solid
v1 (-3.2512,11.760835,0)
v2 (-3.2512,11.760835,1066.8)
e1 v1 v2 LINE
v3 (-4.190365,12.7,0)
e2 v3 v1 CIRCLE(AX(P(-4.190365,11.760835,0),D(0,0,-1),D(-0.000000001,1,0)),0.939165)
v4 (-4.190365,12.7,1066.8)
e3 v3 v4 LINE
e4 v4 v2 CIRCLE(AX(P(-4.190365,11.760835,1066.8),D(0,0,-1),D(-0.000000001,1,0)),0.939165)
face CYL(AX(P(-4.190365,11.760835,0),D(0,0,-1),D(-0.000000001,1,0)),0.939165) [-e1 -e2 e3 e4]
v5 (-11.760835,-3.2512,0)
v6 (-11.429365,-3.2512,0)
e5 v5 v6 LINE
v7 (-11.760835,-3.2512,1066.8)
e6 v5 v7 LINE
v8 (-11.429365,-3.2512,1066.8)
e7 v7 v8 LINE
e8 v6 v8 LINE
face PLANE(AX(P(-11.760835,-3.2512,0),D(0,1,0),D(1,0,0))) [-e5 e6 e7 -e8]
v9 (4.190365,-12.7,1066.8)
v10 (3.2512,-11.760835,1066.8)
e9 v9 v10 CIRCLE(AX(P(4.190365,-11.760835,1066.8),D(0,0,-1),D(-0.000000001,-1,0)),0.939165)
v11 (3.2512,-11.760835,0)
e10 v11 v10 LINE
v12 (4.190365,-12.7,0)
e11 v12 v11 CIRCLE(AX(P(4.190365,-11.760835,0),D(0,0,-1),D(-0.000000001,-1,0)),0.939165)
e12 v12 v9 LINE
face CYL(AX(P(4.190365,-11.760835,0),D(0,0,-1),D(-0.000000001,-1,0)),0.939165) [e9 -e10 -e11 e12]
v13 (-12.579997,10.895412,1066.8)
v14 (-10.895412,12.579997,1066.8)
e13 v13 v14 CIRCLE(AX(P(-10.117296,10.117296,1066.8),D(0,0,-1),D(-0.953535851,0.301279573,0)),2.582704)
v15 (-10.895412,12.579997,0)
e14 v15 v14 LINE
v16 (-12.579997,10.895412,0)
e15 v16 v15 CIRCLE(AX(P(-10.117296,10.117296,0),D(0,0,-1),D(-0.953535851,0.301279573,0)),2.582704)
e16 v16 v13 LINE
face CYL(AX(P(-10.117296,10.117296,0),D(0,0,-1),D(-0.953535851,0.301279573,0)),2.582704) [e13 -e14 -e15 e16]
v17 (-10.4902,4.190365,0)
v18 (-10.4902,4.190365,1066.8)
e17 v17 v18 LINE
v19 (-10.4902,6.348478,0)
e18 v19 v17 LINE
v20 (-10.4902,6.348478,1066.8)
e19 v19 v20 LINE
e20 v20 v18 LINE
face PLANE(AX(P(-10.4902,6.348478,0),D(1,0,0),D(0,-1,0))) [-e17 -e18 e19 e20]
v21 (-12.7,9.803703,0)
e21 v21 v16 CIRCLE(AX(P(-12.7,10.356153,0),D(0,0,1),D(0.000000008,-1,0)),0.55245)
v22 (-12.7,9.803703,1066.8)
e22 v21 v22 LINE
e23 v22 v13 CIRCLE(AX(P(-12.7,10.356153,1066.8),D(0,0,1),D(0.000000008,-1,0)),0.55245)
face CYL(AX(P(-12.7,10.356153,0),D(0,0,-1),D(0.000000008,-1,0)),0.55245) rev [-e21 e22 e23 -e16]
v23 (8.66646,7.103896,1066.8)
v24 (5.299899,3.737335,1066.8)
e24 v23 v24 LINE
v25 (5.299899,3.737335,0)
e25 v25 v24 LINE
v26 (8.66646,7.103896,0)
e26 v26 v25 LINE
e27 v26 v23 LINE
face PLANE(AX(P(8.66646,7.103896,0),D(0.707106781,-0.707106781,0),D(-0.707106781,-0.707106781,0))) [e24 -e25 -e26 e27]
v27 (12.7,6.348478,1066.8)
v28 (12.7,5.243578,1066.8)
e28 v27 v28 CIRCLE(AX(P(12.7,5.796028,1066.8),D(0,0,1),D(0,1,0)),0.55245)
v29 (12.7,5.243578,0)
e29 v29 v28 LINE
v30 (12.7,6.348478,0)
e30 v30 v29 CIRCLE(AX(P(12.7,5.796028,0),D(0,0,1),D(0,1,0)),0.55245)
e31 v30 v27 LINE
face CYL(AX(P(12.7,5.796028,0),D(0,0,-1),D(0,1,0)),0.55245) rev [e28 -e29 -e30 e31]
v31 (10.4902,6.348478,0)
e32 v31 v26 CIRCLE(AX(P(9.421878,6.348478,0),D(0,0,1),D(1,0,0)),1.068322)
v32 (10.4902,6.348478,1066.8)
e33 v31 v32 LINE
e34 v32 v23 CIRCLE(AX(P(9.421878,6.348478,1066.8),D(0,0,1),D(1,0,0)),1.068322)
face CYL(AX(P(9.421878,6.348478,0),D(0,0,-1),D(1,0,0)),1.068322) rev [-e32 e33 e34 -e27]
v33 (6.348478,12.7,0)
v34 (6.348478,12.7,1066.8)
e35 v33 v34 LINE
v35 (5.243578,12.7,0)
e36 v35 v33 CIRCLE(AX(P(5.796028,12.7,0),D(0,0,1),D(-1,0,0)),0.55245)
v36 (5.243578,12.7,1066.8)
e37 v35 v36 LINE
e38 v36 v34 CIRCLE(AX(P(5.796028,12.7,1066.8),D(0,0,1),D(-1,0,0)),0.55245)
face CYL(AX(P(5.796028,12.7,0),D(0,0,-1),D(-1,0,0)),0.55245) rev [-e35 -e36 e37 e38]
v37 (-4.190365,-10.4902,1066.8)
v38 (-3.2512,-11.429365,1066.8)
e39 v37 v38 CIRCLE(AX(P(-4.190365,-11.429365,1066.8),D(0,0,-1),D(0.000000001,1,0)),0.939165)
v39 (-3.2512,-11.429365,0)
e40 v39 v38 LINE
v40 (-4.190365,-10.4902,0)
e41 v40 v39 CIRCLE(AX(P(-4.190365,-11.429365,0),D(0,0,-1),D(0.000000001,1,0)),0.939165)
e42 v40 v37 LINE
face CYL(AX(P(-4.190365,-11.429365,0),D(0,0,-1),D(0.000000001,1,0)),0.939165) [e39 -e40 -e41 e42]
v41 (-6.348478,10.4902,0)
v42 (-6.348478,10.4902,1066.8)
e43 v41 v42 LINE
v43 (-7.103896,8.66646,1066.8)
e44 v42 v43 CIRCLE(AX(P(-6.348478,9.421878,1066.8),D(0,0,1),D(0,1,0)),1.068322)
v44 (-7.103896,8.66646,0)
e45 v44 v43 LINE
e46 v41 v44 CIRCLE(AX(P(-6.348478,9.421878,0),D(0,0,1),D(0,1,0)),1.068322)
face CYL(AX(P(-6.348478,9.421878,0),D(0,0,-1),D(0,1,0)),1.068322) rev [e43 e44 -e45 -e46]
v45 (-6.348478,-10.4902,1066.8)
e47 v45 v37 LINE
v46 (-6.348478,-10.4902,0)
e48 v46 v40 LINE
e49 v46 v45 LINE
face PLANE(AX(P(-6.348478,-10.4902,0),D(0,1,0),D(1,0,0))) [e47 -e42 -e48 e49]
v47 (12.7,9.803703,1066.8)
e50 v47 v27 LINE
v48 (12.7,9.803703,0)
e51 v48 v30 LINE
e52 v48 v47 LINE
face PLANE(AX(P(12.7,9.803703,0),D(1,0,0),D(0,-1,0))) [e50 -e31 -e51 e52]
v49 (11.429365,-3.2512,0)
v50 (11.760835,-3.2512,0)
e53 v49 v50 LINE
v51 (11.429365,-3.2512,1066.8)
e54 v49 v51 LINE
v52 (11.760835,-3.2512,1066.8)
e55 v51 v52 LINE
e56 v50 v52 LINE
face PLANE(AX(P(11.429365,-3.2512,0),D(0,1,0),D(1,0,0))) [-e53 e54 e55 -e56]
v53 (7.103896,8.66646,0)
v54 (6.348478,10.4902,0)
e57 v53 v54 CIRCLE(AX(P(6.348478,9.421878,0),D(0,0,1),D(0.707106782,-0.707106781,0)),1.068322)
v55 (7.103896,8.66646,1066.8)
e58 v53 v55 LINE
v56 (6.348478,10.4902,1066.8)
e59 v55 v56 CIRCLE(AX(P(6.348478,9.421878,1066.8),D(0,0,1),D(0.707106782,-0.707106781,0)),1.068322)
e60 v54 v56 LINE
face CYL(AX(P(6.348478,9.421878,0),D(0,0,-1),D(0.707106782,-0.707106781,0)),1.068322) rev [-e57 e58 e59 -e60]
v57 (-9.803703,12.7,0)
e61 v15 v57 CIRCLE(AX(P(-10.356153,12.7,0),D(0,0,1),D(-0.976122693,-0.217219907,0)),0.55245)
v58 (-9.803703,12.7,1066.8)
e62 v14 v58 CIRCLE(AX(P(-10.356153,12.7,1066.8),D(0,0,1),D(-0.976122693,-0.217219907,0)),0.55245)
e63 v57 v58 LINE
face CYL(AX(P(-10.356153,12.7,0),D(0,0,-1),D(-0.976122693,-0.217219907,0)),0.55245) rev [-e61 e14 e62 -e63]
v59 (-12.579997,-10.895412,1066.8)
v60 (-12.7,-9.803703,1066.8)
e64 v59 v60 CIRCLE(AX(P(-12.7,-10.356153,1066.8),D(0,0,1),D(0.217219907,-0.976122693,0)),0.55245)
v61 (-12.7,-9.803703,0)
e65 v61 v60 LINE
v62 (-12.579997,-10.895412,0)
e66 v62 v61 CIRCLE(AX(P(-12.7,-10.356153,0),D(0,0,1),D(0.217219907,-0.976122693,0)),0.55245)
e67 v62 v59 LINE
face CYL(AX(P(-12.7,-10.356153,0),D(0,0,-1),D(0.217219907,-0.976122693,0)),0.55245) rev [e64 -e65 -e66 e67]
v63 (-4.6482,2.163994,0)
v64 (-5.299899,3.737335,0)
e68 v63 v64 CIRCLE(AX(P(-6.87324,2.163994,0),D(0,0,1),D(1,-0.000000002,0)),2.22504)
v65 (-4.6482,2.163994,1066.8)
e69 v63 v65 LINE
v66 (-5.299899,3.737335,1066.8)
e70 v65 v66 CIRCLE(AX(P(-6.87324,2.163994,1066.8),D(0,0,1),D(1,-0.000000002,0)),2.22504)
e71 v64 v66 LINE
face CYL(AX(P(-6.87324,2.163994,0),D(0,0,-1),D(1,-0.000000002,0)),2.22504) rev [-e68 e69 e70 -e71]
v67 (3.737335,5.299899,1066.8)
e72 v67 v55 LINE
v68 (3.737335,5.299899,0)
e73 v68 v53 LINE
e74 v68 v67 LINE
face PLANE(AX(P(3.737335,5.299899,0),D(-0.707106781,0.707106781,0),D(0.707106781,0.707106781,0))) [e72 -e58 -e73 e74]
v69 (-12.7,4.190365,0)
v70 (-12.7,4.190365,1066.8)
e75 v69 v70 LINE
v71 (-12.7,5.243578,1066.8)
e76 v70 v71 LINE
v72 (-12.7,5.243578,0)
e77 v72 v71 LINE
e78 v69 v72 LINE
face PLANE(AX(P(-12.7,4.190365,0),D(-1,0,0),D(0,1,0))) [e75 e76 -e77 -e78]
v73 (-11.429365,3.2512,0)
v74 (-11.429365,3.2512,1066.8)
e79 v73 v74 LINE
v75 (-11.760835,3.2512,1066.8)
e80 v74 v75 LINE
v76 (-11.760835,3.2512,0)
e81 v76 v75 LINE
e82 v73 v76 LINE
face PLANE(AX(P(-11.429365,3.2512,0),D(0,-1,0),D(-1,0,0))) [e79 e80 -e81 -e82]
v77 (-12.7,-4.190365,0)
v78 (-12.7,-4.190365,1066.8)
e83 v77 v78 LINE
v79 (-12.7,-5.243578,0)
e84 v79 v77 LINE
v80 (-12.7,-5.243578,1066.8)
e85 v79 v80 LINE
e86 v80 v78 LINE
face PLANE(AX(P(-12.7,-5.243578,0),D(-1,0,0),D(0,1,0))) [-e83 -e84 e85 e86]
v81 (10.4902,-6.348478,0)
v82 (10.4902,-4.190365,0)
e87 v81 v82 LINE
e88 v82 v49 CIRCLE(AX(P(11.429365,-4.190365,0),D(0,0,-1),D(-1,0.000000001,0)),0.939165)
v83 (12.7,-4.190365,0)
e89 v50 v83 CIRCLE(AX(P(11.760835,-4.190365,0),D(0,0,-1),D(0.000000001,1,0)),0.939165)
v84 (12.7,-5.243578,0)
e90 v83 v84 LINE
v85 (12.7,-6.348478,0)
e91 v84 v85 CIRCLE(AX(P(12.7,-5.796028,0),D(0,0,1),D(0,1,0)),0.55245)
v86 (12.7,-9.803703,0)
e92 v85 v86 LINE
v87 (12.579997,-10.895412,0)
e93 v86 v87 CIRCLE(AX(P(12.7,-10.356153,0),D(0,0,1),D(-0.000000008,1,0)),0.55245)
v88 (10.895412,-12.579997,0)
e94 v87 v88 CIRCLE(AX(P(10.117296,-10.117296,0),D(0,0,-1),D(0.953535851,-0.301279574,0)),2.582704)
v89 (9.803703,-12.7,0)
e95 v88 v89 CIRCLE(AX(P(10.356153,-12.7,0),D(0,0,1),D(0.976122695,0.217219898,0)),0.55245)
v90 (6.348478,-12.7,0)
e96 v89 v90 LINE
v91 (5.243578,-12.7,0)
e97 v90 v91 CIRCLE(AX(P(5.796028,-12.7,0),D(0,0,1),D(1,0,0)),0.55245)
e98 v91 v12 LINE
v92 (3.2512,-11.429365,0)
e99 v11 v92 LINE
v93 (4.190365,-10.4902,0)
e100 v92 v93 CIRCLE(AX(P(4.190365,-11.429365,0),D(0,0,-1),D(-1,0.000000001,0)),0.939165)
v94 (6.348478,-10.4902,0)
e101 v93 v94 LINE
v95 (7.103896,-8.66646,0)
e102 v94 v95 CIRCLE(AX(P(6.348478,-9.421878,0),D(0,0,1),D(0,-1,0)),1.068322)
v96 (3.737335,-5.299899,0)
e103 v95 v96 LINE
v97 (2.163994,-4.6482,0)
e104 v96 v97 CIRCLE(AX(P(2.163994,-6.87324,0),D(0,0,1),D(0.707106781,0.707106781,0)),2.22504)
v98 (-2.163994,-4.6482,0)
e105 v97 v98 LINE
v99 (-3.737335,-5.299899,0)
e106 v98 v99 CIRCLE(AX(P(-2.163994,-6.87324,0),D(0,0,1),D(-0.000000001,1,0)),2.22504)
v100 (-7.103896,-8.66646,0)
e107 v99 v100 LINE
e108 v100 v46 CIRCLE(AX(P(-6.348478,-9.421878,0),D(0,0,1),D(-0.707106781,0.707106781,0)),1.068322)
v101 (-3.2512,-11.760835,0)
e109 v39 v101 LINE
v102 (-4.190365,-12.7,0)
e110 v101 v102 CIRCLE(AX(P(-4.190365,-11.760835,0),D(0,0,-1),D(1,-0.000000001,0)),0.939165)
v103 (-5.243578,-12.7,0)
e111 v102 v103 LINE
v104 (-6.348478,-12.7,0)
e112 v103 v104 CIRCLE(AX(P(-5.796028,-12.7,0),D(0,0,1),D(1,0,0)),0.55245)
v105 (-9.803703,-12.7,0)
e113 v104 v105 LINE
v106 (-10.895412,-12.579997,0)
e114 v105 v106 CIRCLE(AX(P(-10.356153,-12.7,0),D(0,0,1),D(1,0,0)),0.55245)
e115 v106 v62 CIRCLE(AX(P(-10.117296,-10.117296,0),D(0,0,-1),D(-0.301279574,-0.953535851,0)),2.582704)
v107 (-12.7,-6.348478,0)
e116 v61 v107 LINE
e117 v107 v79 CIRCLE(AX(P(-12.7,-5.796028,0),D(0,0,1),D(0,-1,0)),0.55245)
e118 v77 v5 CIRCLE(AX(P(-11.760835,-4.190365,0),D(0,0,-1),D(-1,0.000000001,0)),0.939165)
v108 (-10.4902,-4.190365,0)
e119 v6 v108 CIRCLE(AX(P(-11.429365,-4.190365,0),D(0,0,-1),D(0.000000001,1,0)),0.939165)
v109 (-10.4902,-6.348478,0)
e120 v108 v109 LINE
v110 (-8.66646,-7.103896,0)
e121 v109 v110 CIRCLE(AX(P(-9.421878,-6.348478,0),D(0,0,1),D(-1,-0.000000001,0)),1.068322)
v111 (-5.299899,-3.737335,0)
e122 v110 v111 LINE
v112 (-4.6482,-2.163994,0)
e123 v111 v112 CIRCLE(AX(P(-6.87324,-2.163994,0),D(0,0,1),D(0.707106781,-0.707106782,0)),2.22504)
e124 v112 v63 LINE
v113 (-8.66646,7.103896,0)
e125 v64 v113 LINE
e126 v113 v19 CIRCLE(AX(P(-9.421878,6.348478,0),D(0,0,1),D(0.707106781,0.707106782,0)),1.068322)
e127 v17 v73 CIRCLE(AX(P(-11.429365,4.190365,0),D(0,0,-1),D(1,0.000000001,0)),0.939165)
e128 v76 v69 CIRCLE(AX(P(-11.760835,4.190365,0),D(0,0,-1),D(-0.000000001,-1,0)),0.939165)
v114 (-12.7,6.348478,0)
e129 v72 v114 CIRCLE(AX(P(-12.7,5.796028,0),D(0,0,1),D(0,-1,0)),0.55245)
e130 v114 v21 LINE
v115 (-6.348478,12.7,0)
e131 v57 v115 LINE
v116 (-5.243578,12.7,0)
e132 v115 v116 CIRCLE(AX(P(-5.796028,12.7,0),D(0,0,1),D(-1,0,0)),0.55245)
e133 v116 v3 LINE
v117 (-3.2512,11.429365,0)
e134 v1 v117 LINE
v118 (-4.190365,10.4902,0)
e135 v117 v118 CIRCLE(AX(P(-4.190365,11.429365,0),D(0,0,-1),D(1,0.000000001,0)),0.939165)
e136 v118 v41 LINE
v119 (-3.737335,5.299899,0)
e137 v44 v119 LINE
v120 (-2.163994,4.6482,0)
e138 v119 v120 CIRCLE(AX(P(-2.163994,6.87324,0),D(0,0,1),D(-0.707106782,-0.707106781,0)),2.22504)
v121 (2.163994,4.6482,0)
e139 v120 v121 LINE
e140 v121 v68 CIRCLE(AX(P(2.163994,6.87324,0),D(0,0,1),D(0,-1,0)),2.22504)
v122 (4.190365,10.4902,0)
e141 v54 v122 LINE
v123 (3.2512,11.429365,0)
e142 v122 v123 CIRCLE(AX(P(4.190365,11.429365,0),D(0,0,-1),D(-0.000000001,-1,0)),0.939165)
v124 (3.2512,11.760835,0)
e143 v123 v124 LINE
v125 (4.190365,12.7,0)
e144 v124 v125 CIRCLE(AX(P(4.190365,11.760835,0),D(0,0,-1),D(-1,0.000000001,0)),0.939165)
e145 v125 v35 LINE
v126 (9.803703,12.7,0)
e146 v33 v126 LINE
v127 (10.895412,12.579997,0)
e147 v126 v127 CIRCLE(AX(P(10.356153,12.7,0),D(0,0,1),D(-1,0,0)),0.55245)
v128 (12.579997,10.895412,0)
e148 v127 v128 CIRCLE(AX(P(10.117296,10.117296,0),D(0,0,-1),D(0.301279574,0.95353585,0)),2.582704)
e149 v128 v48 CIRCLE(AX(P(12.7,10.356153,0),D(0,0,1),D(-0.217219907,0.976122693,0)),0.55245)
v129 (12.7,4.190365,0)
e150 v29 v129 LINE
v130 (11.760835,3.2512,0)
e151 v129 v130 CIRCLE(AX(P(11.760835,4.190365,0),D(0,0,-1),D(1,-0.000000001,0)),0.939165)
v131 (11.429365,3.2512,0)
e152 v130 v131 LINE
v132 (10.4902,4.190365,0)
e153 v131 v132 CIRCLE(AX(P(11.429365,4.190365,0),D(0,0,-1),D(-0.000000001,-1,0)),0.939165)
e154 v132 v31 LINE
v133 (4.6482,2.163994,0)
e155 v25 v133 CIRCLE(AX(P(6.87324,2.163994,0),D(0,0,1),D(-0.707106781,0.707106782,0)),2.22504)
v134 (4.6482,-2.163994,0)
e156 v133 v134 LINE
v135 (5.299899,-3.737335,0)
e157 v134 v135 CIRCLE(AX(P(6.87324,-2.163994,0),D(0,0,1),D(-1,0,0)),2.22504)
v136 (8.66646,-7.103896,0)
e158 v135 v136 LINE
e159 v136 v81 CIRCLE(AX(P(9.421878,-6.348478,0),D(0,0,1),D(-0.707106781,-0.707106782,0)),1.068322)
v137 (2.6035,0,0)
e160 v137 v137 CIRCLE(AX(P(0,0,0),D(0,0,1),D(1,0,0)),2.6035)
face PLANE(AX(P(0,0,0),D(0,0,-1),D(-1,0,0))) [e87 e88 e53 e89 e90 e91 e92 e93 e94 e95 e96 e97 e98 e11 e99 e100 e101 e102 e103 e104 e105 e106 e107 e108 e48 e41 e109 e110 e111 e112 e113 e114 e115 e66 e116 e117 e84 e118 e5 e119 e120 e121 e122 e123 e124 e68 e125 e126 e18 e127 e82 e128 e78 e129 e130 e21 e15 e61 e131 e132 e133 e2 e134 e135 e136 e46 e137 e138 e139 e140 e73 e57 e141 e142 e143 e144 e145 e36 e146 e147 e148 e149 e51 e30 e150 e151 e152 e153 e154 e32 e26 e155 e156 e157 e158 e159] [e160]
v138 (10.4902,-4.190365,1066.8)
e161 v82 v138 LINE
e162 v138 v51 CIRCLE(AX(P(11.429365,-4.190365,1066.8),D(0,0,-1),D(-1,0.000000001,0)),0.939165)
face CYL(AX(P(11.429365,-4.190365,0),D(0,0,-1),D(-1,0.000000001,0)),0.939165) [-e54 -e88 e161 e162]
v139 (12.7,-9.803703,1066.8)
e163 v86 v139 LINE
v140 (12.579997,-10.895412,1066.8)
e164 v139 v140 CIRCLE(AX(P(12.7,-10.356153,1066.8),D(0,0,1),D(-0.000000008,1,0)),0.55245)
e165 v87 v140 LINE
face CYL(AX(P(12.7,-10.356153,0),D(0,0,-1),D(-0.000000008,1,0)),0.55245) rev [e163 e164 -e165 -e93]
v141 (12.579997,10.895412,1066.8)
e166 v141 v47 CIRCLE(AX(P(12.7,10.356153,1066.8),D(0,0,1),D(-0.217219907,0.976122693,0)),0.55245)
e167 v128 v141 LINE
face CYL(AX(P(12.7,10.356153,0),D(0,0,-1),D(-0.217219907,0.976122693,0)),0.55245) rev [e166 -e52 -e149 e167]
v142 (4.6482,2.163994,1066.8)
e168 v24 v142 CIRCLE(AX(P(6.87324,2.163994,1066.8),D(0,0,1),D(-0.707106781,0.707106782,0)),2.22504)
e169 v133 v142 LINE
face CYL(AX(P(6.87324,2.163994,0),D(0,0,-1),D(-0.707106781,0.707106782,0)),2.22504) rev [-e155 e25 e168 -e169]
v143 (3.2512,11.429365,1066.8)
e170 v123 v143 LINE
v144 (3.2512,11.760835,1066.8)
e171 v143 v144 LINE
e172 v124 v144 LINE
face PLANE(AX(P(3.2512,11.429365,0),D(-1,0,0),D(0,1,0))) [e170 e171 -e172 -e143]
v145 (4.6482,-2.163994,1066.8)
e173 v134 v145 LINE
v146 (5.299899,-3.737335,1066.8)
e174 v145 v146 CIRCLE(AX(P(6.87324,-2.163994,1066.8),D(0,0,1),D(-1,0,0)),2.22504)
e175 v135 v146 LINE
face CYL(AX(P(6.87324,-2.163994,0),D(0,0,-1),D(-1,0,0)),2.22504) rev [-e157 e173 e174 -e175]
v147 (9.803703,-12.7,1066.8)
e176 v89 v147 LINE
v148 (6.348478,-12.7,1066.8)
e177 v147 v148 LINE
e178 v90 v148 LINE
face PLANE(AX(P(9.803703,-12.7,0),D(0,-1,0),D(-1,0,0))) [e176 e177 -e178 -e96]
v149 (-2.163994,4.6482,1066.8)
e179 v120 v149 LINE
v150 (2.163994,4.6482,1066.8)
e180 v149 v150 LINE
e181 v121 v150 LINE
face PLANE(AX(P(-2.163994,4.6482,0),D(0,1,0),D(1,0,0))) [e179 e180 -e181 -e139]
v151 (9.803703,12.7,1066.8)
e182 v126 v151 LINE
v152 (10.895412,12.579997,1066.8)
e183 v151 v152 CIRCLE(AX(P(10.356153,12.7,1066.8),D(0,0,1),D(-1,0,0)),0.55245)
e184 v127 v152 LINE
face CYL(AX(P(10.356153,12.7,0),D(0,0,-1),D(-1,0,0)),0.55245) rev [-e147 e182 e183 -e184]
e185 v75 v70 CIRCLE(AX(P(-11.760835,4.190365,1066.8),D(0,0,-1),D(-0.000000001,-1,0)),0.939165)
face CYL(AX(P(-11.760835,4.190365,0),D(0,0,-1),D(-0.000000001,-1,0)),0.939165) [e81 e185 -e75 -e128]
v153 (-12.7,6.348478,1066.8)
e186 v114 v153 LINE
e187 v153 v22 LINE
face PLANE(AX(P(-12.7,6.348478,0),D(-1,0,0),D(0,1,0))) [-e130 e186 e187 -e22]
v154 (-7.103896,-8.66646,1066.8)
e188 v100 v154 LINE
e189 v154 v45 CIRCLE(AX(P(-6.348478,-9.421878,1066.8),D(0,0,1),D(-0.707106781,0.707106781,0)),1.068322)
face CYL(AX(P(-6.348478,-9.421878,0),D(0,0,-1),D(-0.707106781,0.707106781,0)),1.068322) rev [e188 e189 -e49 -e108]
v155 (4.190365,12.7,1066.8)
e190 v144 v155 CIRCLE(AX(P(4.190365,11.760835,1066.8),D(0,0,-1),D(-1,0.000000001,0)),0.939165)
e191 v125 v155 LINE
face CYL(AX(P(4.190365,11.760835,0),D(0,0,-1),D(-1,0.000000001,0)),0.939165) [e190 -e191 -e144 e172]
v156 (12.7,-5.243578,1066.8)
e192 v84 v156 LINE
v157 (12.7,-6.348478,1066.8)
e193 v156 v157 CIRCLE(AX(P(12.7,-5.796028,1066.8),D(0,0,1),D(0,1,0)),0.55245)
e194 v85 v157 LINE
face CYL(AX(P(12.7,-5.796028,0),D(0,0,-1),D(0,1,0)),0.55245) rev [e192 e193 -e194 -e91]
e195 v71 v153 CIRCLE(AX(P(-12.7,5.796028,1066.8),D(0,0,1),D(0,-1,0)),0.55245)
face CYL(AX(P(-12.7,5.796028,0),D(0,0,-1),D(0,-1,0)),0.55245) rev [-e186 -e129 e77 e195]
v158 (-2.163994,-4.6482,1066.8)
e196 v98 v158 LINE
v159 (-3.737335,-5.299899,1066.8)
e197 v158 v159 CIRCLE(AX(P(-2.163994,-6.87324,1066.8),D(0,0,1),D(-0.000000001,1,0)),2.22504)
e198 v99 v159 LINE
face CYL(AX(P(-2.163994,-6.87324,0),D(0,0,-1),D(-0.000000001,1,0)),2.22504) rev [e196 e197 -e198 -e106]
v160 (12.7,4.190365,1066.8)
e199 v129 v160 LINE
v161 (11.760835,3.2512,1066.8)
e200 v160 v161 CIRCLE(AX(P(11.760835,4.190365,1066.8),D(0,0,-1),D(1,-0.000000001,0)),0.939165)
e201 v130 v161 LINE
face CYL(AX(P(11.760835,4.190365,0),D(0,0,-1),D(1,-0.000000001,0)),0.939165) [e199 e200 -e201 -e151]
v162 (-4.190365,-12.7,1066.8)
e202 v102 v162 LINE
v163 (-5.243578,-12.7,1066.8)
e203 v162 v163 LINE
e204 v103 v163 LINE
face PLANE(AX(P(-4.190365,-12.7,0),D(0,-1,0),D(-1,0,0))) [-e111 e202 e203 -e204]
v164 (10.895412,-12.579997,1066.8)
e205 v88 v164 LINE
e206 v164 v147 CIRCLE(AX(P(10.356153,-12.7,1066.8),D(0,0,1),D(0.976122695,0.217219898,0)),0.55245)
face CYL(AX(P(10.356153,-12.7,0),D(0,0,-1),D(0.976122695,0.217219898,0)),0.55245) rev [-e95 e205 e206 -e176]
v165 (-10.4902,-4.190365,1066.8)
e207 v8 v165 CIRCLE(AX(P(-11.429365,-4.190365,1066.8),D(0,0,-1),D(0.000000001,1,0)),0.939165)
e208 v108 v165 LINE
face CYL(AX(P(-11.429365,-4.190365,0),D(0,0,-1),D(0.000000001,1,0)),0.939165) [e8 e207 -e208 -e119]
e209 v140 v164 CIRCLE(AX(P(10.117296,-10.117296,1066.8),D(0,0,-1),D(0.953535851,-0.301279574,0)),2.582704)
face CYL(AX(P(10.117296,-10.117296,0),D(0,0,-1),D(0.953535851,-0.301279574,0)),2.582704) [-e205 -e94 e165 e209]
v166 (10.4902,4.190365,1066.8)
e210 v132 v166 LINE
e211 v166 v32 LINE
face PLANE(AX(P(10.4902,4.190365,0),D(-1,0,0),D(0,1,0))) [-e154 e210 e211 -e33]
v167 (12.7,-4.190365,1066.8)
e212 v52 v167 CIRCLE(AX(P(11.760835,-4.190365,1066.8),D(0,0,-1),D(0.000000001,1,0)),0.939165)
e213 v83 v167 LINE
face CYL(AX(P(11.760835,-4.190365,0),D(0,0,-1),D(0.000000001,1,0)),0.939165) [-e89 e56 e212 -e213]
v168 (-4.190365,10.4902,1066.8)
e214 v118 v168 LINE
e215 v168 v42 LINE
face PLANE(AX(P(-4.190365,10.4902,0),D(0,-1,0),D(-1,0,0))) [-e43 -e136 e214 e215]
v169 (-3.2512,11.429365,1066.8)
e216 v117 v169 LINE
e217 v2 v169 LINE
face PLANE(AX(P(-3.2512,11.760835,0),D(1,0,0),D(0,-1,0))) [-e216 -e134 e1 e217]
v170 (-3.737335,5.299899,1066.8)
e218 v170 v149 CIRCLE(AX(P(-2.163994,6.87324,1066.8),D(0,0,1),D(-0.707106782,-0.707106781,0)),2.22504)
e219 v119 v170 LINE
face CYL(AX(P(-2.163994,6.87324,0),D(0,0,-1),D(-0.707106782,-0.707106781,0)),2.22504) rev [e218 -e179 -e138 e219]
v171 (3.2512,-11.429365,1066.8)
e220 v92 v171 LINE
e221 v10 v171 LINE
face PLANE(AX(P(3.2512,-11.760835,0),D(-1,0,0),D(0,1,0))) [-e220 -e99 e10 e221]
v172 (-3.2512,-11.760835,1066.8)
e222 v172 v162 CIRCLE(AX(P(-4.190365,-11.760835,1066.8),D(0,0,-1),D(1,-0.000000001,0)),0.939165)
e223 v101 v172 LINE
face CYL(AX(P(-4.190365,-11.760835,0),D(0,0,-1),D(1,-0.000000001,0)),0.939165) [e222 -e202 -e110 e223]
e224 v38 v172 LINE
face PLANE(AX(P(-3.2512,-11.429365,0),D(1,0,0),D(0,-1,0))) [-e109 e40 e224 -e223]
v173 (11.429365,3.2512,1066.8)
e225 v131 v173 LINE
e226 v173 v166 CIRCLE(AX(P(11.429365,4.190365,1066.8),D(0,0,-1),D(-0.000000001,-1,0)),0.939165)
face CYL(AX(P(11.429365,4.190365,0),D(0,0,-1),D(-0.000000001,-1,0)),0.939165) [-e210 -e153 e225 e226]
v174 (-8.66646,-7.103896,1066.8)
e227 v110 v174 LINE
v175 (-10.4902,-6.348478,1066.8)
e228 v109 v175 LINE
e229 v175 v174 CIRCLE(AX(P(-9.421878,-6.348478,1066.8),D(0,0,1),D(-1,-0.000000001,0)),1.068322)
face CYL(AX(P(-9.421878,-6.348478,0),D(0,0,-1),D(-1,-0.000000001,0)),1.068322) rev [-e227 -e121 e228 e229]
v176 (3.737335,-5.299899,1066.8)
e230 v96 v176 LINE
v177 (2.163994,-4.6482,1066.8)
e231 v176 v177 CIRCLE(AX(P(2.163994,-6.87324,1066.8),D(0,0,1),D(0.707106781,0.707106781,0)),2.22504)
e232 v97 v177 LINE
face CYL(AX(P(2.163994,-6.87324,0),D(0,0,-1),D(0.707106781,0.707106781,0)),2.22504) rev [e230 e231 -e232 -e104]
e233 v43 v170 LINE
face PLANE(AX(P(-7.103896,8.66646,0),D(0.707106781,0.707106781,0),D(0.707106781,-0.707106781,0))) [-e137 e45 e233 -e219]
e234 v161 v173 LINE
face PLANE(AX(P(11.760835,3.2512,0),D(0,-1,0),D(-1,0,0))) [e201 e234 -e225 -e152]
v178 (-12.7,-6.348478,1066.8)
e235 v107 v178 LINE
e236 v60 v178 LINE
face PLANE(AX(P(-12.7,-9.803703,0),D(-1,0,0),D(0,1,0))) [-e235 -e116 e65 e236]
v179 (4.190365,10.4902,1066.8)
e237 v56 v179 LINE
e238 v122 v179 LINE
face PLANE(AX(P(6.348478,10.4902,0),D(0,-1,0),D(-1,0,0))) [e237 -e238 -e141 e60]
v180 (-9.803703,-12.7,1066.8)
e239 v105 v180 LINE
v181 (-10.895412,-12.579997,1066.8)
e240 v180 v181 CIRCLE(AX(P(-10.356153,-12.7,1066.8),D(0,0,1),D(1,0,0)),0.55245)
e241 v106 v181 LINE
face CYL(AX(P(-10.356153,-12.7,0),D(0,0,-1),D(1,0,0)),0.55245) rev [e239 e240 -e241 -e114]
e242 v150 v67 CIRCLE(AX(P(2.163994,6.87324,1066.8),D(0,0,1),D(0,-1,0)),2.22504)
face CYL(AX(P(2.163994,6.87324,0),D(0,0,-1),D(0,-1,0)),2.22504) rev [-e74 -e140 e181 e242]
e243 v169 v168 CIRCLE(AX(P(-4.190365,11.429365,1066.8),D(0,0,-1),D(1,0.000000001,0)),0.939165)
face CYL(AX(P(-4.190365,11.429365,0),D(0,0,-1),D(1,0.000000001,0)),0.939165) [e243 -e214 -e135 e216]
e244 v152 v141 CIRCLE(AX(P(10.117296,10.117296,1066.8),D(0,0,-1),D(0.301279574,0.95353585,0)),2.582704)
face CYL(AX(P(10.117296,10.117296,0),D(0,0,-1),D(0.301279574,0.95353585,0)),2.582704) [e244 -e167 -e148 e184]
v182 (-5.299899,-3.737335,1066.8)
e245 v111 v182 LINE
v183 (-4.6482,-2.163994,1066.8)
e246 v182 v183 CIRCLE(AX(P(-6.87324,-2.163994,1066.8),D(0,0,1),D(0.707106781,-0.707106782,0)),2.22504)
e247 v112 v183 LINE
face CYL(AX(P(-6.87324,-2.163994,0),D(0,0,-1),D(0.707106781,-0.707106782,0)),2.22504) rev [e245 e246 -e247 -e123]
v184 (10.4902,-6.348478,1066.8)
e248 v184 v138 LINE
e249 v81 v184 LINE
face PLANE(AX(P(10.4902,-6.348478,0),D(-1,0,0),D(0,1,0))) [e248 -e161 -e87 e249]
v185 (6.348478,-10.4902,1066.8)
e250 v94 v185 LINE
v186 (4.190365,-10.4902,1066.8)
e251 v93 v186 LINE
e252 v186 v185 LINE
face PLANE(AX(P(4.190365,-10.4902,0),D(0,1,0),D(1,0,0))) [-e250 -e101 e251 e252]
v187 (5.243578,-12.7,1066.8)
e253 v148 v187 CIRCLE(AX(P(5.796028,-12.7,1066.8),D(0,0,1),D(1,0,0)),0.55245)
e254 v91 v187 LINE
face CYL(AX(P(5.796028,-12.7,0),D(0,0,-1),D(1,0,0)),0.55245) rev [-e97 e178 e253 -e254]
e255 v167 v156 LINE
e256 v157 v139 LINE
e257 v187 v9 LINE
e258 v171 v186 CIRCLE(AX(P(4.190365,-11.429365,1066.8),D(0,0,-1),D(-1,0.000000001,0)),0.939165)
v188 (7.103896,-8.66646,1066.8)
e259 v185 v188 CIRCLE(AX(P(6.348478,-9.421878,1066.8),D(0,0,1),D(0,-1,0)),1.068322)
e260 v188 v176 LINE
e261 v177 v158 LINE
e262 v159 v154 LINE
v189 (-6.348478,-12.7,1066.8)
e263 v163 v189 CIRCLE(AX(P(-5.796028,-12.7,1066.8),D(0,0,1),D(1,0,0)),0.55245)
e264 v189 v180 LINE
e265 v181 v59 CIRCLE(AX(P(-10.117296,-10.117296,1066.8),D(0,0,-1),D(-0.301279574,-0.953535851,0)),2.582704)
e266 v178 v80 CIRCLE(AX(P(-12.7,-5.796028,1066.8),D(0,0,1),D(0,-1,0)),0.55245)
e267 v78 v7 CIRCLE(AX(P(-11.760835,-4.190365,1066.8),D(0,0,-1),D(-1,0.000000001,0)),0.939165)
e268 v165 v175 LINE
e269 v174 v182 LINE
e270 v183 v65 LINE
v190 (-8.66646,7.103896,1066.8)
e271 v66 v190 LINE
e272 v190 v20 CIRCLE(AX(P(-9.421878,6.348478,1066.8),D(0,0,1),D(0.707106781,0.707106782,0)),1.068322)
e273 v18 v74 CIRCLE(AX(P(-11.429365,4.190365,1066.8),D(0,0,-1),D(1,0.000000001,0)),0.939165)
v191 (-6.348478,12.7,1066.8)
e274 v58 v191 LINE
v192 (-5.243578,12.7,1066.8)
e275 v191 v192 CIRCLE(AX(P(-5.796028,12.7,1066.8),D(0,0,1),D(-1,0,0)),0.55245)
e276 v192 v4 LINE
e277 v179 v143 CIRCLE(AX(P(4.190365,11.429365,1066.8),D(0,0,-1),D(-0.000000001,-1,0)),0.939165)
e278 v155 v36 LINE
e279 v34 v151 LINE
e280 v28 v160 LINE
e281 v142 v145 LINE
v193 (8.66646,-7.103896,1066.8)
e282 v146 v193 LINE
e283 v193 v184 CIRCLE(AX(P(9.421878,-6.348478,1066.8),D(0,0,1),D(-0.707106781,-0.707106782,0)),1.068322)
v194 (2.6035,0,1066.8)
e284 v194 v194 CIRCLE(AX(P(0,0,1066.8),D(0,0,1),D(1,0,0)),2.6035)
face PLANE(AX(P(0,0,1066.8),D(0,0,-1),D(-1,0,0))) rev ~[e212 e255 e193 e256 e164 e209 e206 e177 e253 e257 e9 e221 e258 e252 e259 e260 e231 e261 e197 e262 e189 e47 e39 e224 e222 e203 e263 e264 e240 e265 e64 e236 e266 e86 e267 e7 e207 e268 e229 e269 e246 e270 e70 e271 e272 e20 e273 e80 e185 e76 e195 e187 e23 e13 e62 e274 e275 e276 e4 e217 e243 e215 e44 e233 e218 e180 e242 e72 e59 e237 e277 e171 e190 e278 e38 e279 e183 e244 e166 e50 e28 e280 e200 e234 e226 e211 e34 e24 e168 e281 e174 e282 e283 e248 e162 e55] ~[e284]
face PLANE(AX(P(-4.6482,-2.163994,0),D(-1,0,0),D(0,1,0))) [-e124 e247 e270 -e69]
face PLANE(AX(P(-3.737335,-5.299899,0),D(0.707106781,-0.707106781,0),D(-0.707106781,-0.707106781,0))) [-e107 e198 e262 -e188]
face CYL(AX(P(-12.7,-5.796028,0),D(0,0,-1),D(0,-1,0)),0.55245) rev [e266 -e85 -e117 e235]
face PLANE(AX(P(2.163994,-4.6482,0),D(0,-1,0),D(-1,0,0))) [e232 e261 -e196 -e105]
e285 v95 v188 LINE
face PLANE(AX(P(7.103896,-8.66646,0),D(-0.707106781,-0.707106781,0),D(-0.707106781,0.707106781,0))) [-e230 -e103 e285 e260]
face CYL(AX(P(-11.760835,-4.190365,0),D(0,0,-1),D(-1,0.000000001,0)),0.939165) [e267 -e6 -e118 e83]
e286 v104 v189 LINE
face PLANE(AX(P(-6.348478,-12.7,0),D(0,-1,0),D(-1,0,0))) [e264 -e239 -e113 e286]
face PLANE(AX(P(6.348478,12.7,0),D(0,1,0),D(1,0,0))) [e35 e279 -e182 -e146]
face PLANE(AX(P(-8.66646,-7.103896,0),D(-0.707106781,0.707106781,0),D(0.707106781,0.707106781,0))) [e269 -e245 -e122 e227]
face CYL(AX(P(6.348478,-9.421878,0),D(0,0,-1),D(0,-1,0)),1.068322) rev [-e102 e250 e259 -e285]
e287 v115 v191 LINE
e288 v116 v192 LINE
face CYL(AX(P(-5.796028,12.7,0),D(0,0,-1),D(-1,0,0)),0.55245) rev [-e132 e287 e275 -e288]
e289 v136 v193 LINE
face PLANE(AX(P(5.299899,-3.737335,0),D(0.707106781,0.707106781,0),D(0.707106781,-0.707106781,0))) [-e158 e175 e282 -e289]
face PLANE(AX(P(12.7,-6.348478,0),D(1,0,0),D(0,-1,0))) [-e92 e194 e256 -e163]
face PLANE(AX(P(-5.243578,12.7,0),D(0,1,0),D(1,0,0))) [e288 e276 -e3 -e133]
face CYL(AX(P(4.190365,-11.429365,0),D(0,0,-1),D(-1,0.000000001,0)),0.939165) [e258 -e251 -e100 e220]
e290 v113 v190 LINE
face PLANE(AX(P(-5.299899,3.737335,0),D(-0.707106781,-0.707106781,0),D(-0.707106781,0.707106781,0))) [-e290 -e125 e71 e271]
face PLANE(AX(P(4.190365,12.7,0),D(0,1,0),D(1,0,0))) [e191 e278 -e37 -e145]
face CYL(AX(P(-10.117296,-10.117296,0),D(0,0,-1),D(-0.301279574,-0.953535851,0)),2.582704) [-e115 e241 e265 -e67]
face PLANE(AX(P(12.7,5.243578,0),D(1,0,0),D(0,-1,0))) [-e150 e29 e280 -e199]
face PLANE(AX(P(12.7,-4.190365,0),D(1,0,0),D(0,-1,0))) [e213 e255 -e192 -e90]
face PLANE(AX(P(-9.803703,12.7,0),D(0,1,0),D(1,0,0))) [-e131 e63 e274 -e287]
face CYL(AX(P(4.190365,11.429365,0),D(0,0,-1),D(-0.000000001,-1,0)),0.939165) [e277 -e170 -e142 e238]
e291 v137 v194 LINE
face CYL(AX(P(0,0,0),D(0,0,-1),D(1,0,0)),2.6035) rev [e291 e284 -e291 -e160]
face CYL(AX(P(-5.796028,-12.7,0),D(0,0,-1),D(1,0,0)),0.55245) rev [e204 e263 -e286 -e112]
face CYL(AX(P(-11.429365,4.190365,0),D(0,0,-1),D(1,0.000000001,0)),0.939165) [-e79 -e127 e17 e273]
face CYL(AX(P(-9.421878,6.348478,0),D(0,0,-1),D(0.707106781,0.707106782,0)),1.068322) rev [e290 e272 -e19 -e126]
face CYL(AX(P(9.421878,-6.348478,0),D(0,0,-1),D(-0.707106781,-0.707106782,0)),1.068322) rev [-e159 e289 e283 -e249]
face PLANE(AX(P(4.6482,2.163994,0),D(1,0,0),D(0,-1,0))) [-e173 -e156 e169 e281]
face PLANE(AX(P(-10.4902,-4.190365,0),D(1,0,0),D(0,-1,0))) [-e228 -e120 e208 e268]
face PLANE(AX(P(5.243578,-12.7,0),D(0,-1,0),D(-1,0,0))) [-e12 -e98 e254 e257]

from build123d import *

# Parameters (mm, degrees)
SKETCH1_R           = 2.6035
BOSS_EXTRUDE1_DEPTH = 1066.8


with BuildPart() as part:
    # Sketch1 → Boss-Extrude1 (new body)
    with BuildSketch(Plane.XY):
        with BuildLine():
            Line((-3.737334562, -5.299899128), (-7.103895736, -8.666460301))
            ThreePointArc((-7.103895736, -8.666460301), (-7.335478831, -9.830707141), (-6.348478019, -10.4902))
            Line((-6.348478019, -10.4902), (-4.190365, -10.4902))
            ThreePointArc((-4.190365, -10.4902), (-3.52627506, -10.76527506), (-3.2512, -11.429365))
            Line((-3.2512, -11.429365), (-3.2512, -11.760835))
            ThreePointArc((-3.2512, -11.760835), (-3.52627506, -12.42492494), (-4.190365, -12.7))
            Line((-4.190365, -12.7), (-5.243578019, -12.7))
            ThreePointArc((-5.243578019, -12.7), (-5.796028019, -12.14755), (-6.348478019, -12.7))
            Line((-6.348478019, -12.7), (-9.803703153, -12.7))
            ThreePointArc((-9.803703153, -12.7), (-10.295790179, -12.150857656), (-10.895412136, -12.579996867))
            ThreePointArc((-10.895412136, -12.579996867), (-11.943543586, -11.943543585), (-12.579996867, -10.895412135))
            ThreePointArc((-12.579996867, -10.895412135), (-12.150857661, -10.295790179), (-12.7, -9.803703154))
            Line((-12.7, -9.803703154), (-12.7, -6.348478019))
            ThreePointArc((-12.7, -6.348478019), (-12.14755, -5.796028019), (-12.7, -5.243578019))
            Line((-12.7, -5.243578019), (-12.7, -4.190365))
            ThreePointArc((-12.7, -4.190365), (-12.42492494, -3.52627506), (-11.760835, -3.2512))
            Line((-11.760835, -3.2512), (-11.429365, -3.2512))
            ThreePointArc((-11.429365, -3.2512), (-10.76527506, -3.52627506), (-10.4902, -4.190365))
            Line((-10.4902, -4.190365), (-10.4902, -6.348478019))
            ThreePointArc((-10.4902, -6.348478019), (-9.830707141, -7.335478831), (-8.666460302, -7.103895737))
            Line((-8.666460302, -7.103895737), (-5.299899128, -3.737334563))
            ThreePointArc((-5.299899128, -3.737334563), (-4.817571085, -3.015479635), (-4.6482, -2.163993691))
            Line((-4.6482, -2.163993691), (-4.6482, 2.16399369))
            ThreePointArc((-4.6482, 2.16399369), (-4.817571084, 3.015479634), (-5.299899127, 3.737334562))
            Line((-5.299899127, 3.737334562), (-8.666460301, 7.103895736))
            ThreePointArc((-8.666460301, 7.103895736), (-9.83070714, 7.335478831), (-10.490199999, 6.348478019))
            Line((-10.490199999, 6.348478019), (-10.490199999, 4.190365))
            ThreePointArc((-10.490199999, 4.190365), (-10.765275058, 3.52627506), (-11.429364999, 3.2512))
            Line((-11.429364999, 3.2512), (-11.760834999, 3.2512))
            ThreePointArc((-11.760834999, 3.2512), (-12.424924939, 3.52627506), (-12.699999999, 4.190365))
            Line((-12.699999999, 4.190365), (-12.699999999, 5.243578019))
            ThreePointArc((-12.699999999, 5.243578019), (-12.147549999, 5.796028019), (-12.699999999, 6.348478019))
            Line((-12.699999999, 6.348478019), (-12.699999999, 9.803703154))
            ThreePointArc((-12.699999999, 9.803703154), (-12.15085766, 10.295790179), (-12.579996866, 10.895412135))
            ThreePointArc((-12.579996866, 10.895412135), (-11.943543584, 11.943543586), (-10.895412134, 12.579996867))
            ThreePointArc((-10.895412134, 12.579996867), (-10.295790177, 12.150857661), (-9.803703152, 12.7))
            Line((-9.803703152, 12.7), (-6.348478018, 12.7))
            ThreePointArc((-6.348478018, 12.7), (-5.796028018, 12.14755), (-5.243578018, 12.7))
            Line((-5.243578018, 12.7), (-4.190364999, 12.7))
            ThreePointArc((-4.190364999, 12.7), (-3.526275058, 12.42492494), (-3.251199999, 11.760835))
            Line((-3.251199999, 11.760835), (-3.251199999, 11.429365))
            ThreePointArc((-3.251199999, 11.429365), (-3.526275058, 10.76527506), (-4.190364999, 10.4902))
            Line((-4.190364999, 10.4902), (-6.348478018, 10.4902))
            ThreePointArc((-6.348478018, 10.4902), (-7.33547883, 9.830707142), (-7.103895735, 8.666460303))
            Line((-7.103895735, 8.666460303), (-3.737334561, 5.299899129))
            ThreePointArc((-3.737334561, 5.299899129), (-3.015479634, 4.817571086), (-2.16399369, 4.6482))
            Line((-2.16399369, 4.6482), (2.163993692, 4.6482))
            ThreePointArc((2.163993692, 4.6482), (3.015479636, 4.817571085), (3.737334564, 5.299899128))
            Line((3.737334564, 5.299899128), (7.103895738, 8.666460302))
            ThreePointArc((7.103895738, 8.666460302), (7.335478833, 9.830707141), (6.348478021, 10.4902))
            Line((6.348478021, 10.4902), (4.190365002, 10.4902))
            ThreePointArc((4.190365002, 10.4902), (3.526275062, 10.76527506), (3.251200002, 11.429365))
            Line((3.251200002, 11.429365), (3.251200002, 11.760835))
            ThreePointArc((3.251200002, 11.760835), (3.526275062, 12.42492494), (4.190365002, 12.7))
            Line((4.190365002, 12.7), (5.243578021, 12.7))
            ThreePointArc((5.243578021, 12.7), (5.796028021, 12.14755), (6.348478021, 12.7))
            Line((6.348478021, 12.7), (9.803703155, 12.7))
            ThreePointArc((9.803703155, 12.7), (10.295790181, 12.150857656), (10.895412138, 12.579996867))
            ThreePointArc((10.895412138, 12.579996867), (11.943543588, 11.943543585), (12.579996869, 10.895412136))
            ThreePointArc((12.579996869, 10.895412136), (12.150857663, 10.295790179), (12.700000001, 9.803703154))
            Line((12.700000001, 9.803703154), (12.700000001, 6.34847802))
            ThreePointArc((12.700000001, 6.34847802), (12.147550001, 5.79602802), (12.700000001, 5.24357802))
            Line((12.700000001, 5.24357802), (12.700000001, 4.190365001))
            ThreePointArc((12.700000001, 4.190365001), (12.424924941, 3.526275061), (11.760835001, 3.251200001))
            Line((11.760835001, 3.251200001), (11.429365001, 3.251200001))
            ThreePointArc((11.429365001, 3.251200001), (10.765275061, 3.526275061), (10.490200001, 4.190365001))
            Line((10.490200001, 4.190365001), (10.490200001, 6.34847802))
            ThreePointArc((10.490200001, 6.34847802), (9.830707143, 7.335478832), (8.666460303, 7.103895738))
            Line((8.666460303, 7.103895738), (5.299899129, 3.737334564))
            ThreePointArc((5.299899129, 3.737334564), (4.817571086, 3.015479636), (4.648200001, 2.163993692))
            Line((4.648200001, 2.163993692), (4.648200001, -2.163993689))
            ThreePointArc((4.648200001, -2.163993689), (4.817571086, -3.015479633), (5.299899128, -3.737334561))
            Line((5.299899128, -3.737334561), (8.666460302, -7.103895735))
            ThreePointArc((8.666460302, -7.103895735), (9.830707141, -7.33547883), (10.4902, -6.348478018))
            Line((10.4902, -6.348478018), (10.4902, -4.190364999))
            ThreePointArc((10.4902, -4.190364999), (10.76527506, -3.526275059), (11.429365, -3.251199999))
            Line((11.429365, -3.251199999), (11.760835, -3.251199999))
            ThreePointArc((11.760835, -3.251199999), (12.42492494, -3.526275059), (12.7, -4.190364999))
            Line((12.7, -4.190364999), (12.7, -5.243578018))
            ThreePointArc((12.7, -5.243578018), (12.14755, -5.796028018), (12.7, -6.348478018))
            Line((12.7, -6.348478018), (12.7, -9.803703153))
            ThreePointArc((12.7, -9.803703153), (12.150857661, -10.295790178), (12.579996867, -10.895412134))
            ThreePointArc((12.579996867, -10.895412134), (11.943543586, -11.943543584), (10.895412136, -12.579996866))
            ThreePointArc((10.895412136, -12.579996866), (10.295790179, -12.150857655), (9.803703154, -12.699999999))
            Line((9.803703154, -12.699999999), (6.348478019, -12.699999999))
            ThreePointArc((6.348478019, -12.699999999), (5.796028019, -12.147549999), (5.243578019, -12.699999999))
            Line((5.243578019, -12.699999999), (4.190365, -12.699999999))
            ThreePointArc((4.190365, -12.699999999), (3.52627506, -12.424924939), (3.2512, -11.760834999))
            Line((3.2512, -11.760834999), (3.2512, -11.429364999))
            ThreePointArc((3.2512, -11.429364999), (3.52627506, -10.765275059), (4.190365, -10.490199999))
            Line((4.190365, -10.490199999), (6.348478019, -10.490199999))
            ThreePointArc((6.348478019, -10.490199999), (7.335478831, -9.830707141), (7.103895737, -8.666460301))
            Line((7.103895737, -8.666460301), (3.737334563, -5.299899128))
            ThreePointArc((3.737334563, -5.299899128), (3.015479635, -4.817571085), (2.163993691, -4.648199999))
            Line((2.163993691, -4.648199999), (-2.163993691, -4.648199999))
            ThreePointArc((-2.163993691, -4.648199999), (-3.015479635, -4.817571085), (-3.737334562, -5.299899128))
        make_face()
        Circle(SKETCH1_R, mode=Mode.SUBTRACT)
    extrude(amount=BOSS_EXTRUDE1_DEPTH)


solid = part.part
